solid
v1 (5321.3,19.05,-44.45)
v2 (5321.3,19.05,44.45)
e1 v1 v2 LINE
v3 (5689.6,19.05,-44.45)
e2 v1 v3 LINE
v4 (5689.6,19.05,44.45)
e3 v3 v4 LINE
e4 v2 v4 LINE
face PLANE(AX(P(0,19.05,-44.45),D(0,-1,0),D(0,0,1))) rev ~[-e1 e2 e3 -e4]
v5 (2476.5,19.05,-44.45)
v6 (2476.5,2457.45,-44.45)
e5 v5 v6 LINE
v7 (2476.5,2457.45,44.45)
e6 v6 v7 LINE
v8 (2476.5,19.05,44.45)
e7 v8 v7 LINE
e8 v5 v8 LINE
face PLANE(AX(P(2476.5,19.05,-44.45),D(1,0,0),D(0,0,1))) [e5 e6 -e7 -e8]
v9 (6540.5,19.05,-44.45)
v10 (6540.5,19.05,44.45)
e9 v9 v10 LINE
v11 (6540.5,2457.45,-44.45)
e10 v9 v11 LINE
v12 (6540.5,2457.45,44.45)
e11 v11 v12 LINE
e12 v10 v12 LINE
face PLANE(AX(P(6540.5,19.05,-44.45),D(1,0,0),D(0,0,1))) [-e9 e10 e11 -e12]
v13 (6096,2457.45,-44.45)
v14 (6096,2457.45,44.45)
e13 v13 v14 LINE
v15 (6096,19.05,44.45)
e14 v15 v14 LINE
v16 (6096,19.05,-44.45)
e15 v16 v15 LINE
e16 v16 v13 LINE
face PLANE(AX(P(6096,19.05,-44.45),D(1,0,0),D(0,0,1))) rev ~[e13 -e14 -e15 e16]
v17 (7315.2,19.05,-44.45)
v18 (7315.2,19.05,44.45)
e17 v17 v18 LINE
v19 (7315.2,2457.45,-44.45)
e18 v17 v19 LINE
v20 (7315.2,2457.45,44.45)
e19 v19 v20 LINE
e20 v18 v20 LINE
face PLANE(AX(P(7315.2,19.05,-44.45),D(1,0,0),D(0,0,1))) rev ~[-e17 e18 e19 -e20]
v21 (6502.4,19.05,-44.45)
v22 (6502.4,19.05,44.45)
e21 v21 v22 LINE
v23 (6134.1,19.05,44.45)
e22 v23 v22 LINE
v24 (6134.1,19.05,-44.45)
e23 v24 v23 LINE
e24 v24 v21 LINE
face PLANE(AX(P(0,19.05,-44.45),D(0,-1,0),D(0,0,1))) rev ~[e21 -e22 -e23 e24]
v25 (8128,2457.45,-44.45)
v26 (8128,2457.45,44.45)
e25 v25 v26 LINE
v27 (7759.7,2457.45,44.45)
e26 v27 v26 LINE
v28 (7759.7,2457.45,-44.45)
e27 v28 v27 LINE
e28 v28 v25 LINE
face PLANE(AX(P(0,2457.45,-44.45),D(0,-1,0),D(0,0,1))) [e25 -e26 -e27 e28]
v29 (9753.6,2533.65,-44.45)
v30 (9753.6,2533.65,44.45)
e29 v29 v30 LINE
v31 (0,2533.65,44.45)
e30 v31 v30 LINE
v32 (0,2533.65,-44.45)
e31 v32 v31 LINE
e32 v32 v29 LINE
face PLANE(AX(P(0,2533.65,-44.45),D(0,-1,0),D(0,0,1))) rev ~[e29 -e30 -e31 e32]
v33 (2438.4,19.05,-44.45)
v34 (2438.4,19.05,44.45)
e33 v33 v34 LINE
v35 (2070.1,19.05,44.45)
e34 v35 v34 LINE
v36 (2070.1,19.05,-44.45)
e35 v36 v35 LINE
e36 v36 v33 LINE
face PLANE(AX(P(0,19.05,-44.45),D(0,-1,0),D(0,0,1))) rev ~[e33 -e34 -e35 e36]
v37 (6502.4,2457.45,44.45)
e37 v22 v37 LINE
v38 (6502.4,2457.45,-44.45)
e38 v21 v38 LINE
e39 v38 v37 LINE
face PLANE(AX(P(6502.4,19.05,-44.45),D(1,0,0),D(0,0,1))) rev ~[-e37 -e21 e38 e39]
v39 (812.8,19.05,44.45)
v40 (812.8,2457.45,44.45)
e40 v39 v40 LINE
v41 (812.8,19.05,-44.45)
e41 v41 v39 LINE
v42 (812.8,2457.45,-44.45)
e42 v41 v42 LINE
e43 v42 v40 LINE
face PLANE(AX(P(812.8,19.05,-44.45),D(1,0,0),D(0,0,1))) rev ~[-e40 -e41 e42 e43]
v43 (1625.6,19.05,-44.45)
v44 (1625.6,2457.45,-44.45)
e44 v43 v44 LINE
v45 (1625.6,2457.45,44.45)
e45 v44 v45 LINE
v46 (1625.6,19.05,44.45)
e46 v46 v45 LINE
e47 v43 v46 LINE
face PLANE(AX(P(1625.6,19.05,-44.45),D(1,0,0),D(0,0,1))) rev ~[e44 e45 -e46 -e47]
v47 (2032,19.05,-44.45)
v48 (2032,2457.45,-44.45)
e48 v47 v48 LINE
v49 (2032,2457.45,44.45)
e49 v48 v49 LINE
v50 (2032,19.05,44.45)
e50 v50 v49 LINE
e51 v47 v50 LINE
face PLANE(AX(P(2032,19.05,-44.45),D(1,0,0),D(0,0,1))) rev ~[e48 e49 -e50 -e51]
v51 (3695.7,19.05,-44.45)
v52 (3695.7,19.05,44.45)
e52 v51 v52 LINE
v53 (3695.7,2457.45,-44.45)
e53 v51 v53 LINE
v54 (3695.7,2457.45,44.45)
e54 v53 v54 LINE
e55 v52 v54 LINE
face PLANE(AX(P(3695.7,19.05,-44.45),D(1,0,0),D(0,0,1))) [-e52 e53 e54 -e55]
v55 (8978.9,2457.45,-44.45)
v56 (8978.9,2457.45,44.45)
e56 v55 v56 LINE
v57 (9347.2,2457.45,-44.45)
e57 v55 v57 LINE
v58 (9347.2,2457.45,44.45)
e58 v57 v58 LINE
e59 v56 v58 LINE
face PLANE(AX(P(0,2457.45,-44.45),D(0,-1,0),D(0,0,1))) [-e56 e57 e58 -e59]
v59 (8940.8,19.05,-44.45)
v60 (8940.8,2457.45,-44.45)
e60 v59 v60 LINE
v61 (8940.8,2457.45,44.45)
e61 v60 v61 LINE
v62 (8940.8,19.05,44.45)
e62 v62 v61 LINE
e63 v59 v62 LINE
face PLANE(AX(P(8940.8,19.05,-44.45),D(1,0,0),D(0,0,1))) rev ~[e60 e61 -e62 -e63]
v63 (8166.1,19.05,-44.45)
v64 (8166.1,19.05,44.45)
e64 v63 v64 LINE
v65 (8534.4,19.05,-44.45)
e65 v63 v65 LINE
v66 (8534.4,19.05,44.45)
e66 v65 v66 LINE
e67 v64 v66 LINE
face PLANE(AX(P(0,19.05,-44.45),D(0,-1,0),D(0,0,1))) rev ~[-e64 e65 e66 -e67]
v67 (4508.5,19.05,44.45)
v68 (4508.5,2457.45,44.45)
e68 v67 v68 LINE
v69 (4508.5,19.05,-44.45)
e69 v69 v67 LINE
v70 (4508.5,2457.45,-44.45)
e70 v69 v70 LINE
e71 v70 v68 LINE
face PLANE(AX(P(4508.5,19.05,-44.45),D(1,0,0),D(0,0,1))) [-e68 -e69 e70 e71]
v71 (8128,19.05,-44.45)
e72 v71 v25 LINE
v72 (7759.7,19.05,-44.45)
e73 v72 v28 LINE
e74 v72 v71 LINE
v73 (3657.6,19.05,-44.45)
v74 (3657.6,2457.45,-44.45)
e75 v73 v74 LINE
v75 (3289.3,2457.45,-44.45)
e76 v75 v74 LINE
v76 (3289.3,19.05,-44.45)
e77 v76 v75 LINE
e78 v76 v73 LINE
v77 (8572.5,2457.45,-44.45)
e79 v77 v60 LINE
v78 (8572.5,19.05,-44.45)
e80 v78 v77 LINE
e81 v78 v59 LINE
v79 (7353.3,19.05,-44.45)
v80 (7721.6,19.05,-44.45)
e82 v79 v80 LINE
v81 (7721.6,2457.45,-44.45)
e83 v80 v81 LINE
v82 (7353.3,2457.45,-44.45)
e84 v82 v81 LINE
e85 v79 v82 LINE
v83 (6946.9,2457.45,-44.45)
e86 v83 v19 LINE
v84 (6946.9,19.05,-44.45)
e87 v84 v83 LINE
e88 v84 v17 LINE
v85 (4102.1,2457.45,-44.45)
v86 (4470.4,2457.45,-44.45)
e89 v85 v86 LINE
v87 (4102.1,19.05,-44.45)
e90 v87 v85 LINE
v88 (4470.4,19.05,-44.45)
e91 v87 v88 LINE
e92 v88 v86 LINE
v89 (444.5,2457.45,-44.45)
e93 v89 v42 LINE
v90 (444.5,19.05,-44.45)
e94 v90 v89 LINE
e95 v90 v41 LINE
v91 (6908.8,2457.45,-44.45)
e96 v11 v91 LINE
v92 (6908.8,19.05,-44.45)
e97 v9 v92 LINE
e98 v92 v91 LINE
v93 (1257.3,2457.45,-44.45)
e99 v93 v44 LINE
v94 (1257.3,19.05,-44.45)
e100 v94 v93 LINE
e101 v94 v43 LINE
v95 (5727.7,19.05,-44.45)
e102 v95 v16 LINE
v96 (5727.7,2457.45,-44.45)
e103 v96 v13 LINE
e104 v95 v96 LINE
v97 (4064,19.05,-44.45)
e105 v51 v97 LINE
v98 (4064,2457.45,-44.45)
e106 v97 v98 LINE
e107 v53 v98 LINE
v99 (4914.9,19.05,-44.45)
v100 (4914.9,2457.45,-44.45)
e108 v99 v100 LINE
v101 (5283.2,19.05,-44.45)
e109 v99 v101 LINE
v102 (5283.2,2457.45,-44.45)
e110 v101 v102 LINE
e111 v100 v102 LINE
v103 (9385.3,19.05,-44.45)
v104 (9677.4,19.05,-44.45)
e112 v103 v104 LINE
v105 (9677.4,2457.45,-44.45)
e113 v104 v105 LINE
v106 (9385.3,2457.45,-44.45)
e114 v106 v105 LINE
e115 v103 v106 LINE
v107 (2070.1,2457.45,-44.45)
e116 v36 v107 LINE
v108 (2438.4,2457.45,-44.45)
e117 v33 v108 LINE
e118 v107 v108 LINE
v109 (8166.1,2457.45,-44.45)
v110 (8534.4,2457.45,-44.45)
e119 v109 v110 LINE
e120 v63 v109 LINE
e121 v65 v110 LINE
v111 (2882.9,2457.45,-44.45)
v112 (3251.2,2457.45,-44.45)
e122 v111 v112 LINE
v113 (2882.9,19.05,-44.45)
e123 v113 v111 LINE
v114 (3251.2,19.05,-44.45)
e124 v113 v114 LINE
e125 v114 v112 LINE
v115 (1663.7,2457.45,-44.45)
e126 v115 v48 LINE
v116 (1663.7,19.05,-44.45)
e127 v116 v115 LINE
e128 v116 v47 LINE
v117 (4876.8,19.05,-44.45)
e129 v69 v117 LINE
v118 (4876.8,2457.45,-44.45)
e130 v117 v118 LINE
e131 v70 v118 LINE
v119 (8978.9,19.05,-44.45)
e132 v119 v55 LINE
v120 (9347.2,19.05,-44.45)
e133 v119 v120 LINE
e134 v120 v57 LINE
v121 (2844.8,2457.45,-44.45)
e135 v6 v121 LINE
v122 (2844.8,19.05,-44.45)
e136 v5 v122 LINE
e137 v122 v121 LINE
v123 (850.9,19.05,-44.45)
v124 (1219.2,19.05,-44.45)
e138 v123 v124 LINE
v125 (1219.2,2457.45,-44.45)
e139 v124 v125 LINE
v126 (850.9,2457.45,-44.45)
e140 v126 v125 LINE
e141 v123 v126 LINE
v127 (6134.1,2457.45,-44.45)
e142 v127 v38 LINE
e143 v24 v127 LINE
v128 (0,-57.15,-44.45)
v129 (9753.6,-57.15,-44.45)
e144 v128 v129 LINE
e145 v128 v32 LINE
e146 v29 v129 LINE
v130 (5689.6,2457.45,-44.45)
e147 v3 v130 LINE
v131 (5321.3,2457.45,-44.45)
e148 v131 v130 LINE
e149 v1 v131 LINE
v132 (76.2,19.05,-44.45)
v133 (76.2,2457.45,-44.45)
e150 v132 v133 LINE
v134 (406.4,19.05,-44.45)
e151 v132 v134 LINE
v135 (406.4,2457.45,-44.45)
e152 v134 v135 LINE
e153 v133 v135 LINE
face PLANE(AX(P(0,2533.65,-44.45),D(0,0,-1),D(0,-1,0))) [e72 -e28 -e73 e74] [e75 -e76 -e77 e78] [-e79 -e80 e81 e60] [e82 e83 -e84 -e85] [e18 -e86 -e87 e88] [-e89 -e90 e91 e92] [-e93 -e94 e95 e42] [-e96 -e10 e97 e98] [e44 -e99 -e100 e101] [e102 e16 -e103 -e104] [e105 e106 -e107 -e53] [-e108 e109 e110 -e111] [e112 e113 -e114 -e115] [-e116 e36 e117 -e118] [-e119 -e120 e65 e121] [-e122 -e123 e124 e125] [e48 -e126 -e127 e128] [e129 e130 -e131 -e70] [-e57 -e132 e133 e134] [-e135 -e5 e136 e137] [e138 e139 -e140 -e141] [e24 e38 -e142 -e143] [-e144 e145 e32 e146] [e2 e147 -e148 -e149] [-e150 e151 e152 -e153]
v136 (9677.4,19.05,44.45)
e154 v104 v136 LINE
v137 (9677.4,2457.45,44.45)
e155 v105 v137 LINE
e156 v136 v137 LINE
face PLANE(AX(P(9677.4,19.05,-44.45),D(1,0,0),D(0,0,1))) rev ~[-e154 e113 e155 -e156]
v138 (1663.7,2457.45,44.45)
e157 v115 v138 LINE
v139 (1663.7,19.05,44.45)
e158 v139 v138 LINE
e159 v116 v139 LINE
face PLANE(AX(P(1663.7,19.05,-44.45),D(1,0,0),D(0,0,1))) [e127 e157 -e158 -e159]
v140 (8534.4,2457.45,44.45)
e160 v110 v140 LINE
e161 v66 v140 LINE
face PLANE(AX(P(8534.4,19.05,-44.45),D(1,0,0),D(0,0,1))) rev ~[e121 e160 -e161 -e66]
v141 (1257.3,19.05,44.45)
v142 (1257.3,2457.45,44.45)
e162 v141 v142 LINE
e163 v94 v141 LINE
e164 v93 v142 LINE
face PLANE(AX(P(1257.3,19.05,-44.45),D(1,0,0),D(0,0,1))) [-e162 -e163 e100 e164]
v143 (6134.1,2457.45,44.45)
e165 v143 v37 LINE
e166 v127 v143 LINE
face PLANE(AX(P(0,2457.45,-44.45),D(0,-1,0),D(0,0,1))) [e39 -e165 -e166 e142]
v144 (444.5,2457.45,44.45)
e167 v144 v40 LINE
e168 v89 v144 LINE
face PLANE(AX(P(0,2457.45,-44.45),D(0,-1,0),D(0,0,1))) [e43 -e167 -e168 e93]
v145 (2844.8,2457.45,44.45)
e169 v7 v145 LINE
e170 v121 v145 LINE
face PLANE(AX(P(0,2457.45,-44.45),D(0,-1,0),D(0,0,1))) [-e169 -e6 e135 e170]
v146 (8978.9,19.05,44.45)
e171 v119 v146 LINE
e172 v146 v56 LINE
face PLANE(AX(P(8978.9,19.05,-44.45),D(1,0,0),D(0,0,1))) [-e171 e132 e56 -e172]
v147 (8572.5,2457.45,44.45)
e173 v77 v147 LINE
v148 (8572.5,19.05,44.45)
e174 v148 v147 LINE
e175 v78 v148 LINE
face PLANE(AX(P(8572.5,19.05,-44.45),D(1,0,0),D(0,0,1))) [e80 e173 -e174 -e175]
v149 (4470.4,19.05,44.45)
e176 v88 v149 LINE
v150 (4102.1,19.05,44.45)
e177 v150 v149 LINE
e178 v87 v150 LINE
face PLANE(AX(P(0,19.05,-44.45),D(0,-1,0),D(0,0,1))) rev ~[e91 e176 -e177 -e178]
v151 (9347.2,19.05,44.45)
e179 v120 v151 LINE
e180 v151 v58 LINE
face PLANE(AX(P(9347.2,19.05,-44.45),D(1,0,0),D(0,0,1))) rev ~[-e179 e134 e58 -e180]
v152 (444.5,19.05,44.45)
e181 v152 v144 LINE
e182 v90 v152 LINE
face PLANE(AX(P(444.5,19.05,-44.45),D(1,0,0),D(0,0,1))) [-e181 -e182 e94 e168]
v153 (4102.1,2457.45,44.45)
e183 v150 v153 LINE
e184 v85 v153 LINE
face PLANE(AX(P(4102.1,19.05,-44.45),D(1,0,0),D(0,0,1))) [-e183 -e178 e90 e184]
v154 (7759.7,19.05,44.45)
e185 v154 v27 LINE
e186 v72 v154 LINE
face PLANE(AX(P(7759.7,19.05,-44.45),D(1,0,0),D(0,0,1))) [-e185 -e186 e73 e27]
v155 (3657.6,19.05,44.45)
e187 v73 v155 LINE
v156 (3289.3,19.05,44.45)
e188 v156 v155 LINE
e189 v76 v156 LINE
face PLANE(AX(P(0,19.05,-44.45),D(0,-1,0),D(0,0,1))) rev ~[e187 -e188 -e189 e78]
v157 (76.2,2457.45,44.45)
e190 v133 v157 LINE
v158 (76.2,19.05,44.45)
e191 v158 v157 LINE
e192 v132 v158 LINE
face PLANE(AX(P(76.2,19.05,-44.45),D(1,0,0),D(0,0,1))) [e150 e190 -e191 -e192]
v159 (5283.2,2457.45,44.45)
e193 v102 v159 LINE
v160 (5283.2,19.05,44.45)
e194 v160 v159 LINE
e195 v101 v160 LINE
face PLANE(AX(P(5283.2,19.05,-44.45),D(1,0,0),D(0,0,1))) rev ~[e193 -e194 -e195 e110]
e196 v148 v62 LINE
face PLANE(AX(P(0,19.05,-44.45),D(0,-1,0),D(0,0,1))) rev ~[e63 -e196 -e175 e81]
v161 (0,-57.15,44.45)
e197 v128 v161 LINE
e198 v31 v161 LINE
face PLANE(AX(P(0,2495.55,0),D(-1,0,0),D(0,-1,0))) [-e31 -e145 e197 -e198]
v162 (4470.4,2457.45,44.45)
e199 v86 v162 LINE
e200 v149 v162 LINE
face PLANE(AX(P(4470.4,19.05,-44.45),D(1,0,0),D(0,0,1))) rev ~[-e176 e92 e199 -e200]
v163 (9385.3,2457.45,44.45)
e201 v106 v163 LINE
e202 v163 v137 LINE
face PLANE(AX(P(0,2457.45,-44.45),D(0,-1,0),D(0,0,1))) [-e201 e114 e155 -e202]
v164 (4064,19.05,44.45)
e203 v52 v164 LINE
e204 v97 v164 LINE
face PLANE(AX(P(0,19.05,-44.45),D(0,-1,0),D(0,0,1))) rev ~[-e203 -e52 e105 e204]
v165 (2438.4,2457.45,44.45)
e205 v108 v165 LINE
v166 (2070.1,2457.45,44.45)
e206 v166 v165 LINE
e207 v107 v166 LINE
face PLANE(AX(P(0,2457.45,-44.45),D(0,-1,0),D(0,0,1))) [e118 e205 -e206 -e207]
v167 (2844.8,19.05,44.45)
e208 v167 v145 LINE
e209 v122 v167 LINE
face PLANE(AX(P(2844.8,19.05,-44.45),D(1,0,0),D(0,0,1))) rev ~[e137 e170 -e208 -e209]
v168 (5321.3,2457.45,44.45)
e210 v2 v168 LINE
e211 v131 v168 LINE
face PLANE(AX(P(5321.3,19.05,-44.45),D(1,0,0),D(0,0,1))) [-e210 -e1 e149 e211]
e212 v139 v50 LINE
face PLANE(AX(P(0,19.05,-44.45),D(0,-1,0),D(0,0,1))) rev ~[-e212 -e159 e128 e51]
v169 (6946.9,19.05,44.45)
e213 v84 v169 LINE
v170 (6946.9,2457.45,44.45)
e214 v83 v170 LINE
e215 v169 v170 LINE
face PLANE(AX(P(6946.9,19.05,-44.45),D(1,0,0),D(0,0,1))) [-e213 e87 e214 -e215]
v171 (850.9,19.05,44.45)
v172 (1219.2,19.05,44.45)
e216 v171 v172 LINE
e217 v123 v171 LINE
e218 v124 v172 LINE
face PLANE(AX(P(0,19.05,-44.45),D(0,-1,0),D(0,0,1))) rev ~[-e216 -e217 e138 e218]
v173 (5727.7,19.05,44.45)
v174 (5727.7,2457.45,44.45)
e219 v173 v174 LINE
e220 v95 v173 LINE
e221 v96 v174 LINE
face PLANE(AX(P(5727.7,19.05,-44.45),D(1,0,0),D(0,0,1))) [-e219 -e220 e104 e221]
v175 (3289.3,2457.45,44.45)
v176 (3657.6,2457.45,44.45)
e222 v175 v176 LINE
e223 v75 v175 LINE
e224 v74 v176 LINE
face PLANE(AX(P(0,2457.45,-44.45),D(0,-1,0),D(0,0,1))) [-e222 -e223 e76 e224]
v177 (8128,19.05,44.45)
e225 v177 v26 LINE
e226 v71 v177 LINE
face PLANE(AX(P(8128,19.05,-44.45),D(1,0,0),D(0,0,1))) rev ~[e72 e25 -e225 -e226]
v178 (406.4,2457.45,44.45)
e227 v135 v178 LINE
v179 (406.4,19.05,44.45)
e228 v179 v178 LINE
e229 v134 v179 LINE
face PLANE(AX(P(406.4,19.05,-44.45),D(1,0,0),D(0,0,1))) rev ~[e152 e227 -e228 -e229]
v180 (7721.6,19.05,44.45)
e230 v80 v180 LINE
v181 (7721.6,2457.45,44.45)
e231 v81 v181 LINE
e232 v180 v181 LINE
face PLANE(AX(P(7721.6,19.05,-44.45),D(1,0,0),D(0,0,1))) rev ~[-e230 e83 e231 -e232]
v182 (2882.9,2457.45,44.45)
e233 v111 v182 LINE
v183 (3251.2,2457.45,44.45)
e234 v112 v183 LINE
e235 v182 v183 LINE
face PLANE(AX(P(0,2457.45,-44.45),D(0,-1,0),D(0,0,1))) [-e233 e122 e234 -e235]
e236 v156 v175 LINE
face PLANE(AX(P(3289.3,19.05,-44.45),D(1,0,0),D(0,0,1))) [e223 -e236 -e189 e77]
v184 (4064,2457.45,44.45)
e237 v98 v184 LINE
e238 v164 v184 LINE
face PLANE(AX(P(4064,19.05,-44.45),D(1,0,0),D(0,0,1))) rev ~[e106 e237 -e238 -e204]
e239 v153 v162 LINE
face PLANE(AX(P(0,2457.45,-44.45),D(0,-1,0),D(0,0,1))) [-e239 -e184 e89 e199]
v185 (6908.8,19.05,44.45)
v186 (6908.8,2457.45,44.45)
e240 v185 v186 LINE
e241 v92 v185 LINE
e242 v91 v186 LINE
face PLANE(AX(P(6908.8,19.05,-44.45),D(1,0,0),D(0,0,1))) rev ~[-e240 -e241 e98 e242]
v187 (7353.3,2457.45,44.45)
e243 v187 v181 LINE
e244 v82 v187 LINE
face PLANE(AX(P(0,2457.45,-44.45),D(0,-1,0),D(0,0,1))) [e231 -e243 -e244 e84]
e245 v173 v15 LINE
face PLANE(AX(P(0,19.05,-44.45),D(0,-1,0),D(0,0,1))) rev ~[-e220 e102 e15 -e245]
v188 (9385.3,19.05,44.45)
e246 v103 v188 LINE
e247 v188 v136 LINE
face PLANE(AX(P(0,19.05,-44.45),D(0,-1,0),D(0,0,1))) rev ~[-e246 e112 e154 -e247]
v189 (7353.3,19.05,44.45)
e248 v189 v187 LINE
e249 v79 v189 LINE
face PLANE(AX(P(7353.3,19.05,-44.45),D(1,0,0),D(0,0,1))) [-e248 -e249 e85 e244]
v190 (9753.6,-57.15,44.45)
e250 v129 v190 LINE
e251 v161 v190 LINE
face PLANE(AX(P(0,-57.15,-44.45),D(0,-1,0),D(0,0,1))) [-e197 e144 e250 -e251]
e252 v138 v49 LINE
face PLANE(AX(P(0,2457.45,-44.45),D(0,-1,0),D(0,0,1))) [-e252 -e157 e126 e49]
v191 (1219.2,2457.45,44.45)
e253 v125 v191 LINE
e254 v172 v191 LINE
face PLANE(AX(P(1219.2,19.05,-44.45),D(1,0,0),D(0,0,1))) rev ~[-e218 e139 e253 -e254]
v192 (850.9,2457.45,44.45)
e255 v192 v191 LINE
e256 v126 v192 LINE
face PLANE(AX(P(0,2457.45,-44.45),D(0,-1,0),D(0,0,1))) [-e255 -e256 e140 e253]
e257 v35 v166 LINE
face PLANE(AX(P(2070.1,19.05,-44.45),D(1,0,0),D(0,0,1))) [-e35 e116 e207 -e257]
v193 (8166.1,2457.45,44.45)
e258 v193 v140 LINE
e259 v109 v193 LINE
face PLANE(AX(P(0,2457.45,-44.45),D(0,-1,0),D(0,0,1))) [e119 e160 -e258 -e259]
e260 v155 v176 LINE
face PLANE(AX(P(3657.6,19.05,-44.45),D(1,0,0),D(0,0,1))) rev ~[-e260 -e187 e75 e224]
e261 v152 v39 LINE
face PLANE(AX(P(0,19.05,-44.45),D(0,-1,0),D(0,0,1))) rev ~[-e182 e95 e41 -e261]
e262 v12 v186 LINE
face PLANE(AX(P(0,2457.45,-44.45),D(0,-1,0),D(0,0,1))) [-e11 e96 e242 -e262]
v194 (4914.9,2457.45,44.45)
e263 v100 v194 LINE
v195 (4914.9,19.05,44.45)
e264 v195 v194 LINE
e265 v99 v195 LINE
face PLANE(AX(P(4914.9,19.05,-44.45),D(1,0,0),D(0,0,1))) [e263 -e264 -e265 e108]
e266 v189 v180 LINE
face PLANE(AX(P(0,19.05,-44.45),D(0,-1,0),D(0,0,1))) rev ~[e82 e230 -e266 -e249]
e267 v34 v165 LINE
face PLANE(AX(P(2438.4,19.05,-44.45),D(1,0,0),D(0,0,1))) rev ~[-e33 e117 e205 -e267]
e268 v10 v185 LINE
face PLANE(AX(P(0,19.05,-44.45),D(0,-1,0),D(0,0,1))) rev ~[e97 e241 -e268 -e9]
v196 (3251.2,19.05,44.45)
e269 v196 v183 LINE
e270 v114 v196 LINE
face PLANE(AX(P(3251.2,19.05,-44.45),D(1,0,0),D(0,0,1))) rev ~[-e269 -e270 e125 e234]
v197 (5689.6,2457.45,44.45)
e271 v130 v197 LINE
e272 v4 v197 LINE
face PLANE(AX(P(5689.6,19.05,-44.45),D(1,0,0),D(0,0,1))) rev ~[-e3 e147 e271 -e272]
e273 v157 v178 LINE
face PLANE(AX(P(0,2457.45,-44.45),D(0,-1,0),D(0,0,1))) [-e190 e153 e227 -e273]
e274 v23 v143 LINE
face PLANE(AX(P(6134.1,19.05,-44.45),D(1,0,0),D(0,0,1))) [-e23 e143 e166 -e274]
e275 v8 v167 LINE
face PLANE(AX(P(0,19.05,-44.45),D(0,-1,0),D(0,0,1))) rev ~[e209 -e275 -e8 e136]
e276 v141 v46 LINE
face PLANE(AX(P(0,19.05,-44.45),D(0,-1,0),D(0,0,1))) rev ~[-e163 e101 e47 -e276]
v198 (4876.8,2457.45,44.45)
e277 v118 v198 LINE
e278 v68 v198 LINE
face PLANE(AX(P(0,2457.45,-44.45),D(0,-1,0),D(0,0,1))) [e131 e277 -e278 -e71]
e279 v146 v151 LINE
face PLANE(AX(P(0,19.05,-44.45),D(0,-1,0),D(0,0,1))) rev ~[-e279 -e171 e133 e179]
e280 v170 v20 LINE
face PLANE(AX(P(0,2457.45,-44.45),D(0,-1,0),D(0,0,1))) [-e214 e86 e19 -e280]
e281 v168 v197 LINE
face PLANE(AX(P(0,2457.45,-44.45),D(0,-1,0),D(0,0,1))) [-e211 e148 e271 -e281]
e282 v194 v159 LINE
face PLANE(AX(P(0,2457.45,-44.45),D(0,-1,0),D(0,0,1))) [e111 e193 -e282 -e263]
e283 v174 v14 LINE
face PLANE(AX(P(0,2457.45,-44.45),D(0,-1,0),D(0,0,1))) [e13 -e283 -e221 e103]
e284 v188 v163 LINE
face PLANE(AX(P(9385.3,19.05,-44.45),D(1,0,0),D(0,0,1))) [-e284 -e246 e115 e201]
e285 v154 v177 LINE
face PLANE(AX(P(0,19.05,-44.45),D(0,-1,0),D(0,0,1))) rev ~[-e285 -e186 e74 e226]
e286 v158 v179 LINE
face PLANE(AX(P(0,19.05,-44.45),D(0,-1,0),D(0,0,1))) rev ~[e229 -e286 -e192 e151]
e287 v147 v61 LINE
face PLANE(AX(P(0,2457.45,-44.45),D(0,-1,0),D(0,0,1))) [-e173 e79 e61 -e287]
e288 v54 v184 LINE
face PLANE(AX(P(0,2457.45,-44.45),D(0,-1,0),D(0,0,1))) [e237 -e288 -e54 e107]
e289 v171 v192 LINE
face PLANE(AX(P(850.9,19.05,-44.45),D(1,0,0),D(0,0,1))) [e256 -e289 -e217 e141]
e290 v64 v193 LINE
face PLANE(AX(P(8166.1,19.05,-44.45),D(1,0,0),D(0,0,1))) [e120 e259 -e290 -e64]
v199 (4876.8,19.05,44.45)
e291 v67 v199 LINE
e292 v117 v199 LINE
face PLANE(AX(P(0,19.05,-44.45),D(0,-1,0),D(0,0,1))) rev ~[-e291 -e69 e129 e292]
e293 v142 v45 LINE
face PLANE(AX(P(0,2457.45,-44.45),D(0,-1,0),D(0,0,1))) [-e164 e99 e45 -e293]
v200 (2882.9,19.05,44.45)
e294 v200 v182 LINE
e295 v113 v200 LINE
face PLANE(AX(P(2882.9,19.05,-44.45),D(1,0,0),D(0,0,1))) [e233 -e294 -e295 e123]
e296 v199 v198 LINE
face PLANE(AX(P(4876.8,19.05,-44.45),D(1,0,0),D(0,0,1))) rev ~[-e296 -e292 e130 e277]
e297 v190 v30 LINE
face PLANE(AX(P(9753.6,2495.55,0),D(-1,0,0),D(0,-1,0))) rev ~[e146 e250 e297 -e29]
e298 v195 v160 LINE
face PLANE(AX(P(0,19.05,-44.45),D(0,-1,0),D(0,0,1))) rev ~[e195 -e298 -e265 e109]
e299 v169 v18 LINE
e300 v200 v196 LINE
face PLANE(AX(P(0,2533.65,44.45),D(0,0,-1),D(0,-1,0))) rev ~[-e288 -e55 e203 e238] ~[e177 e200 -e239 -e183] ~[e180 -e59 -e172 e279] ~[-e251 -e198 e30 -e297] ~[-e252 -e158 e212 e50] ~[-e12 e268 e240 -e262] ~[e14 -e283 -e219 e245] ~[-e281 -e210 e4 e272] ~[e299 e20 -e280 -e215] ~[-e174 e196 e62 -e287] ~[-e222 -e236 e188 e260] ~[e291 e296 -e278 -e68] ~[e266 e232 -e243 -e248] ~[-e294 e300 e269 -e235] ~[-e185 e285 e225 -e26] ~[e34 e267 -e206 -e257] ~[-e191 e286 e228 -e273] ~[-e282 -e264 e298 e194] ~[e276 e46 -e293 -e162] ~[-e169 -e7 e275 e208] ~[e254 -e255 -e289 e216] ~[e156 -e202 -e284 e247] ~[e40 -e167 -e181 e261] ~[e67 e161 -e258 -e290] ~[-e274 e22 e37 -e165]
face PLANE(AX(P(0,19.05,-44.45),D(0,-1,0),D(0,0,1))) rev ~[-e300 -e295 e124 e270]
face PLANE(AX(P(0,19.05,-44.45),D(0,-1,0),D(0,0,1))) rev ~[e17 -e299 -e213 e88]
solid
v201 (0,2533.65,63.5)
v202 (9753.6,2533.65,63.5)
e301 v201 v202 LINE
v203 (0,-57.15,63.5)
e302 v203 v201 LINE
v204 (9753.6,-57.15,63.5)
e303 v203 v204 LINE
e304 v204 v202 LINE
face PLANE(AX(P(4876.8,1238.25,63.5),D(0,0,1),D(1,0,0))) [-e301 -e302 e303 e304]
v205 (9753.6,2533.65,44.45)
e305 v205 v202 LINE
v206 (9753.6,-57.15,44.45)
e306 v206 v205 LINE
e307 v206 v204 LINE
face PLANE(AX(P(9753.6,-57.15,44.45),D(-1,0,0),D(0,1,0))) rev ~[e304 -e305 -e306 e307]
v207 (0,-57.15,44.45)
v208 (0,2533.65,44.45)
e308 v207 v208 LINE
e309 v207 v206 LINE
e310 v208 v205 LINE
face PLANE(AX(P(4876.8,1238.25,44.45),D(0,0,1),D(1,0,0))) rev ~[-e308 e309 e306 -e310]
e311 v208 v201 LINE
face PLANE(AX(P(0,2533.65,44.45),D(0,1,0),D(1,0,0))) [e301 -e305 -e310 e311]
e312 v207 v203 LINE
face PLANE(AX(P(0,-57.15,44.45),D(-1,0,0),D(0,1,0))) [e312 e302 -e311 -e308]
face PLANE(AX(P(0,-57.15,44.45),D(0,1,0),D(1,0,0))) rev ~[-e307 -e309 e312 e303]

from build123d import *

# Parameters (mm, degrees)
F0_W      = 38.1
F0_H      = 88.9
F1_DEPTH  = 9753.6
F2_W      = 38.1
F2_H      = 88.9
F3_DEPTH  = 2438.4
F4_W      = 76.2
F4_H      = 88.9
F5_DEPTH  = 2438.4
F6_W      = 38.1
F6_H      = 88.9
F7_DEPTH  = 2438.4
F8_DEPTH  = 38.1
F9_W      = 76.2
F9_H      = 88.9
F10_DEPTH = 9753.6
F11_W     = 9753.6
F11_H     = 2590.8
F12_DEPTH = 19.05


with BuildPart() as f1:
    # F0 (on Right) → F1 (new body)
    with BuildSketch(Plane.YZ):
        Rectangle(F0_W, F0_H)
    extrude(amount=F1_DEPTH)

    # F2 (on face) → F3 (join)
    with BuildSketch(Plane(origin=(0, 19.05, 0), x_dir=(-1, 0, 0), z_dir=(0, 1, 0))):
        with Locations((-9366.25, 0)):
            Rectangle(F2_W, F2_H)
        with Locations((-8959.85, 0)):
            Rectangle(F2_W, F2_H)
        with Locations((-8553.45, 0)):
            Rectangle(F2_W, F2_H)
        with Locations((-8147.05, 0)):
            Rectangle(F2_W, F2_H)
        with Locations((-7740.65, 0)):
            Rectangle(F2_W, F2_H)
        with Locations((-7334.25, 0)):
            Rectangle(F2_W, F2_H)
        with Locations((-6927.85, 0)):
            Rectangle(F2_W, F2_H)
        with Locations((-6521.45, 0)):
            Rectangle(F2_W, F2_H)
        with Locations((-6115.05, 0)):
            Rectangle(F2_W, F2_H)
        with Locations((-5708.65, 0)):
            Rectangle(F2_W, F2_H)
        with Locations((-5302.25, 0)):
            Rectangle(F2_W, F2_H)
        with Locations((-4895.85, 0)):
            Rectangle(F2_W, F2_H)
        with Locations((-4489.45, 0)):
            Rectangle(F2_W, F2_H)
        with Locations((-4083.05, 0)):
            Rectangle(F2_W, F2_H)
        with Locations((-3676.65, 0)):
            Rectangle(F2_W, F2_H)
        with Locations((-3270.25, 0)):
            Rectangle(F2_W, F2_H)
        with Locations((-2863.85, 0)):
            Rectangle(F2_W, F2_H)
        with Locations((-2457.45, 0)):
            Rectangle(F2_W, F2_H)
        with Locations((-2051.05, 0)):
            Rectangle(F2_W, F2_H)
        with Locations((-1644.65, 0)):
            Rectangle(F2_W, F2_H)
        with Locations((-1238.25, 0)):
            Rectangle(F2_W, F2_H)
        with Locations((-831.85, 0)):
            Rectangle(F2_W, F2_H)
        with Locations((-425.45, 0)):
            Rectangle(F2_W, F2_H)
        with Locations((-19.05, 0)):
            Rectangle(F2_W, F2_H)
    extrude(amount=F3_DEPTH)

    # F4 (on face) → F5 (join)
    with BuildSketch(Plane(origin=(0, 19.05, 0), x_dir=(-1, 0, 0), z_dir=(0, 1, 0))):
        with Locations((-9715.5, 0)):
            Rectangle(F4_W, F4_H)
    extrude(amount=F5_DEPTH)

    # F6 (on face) → F7 (join)
    with BuildSketch(Plane(origin=(0, 19.05, 0), x_dir=(-1, 0, 0), z_dir=(0, 1, 0))):
        with Locations((-57.15, 0)):
            Rectangle(F6_W, F6_H)
    extrude(amount=F7_DEPTH)

    # F8 (add): a face of the model
    f8_faces = [f1.faces().sort_by_distance(p)[0] for p in [
        (4876.8, -19.05, 0),
    ]]
    extrude(f8_faces, amount=F8_DEPTH)

    # F9 (on face) → F10 (join)
    with BuildSketch(Plane(origin=(0, 0, 0), x_dir=(0, -1, 0), z_dir=(-1, 0, 0))):
        with Locations((-2495.55, 0)):
            Rectangle(F9_W, F9_H)
    extrude(amount=-F10_DEPTH)


with BuildPart() as f12:
    # F11 (on face) → F12 (new body)
    with BuildSketch(Plane.XY.offset(44.45)):
        with Locations((4876.8, 1238.25)):
            Rectangle(F11_W, F11_H)
    extrude(amount=F12_DEPTH)


solid = Compound([f1.part, f12.part])
